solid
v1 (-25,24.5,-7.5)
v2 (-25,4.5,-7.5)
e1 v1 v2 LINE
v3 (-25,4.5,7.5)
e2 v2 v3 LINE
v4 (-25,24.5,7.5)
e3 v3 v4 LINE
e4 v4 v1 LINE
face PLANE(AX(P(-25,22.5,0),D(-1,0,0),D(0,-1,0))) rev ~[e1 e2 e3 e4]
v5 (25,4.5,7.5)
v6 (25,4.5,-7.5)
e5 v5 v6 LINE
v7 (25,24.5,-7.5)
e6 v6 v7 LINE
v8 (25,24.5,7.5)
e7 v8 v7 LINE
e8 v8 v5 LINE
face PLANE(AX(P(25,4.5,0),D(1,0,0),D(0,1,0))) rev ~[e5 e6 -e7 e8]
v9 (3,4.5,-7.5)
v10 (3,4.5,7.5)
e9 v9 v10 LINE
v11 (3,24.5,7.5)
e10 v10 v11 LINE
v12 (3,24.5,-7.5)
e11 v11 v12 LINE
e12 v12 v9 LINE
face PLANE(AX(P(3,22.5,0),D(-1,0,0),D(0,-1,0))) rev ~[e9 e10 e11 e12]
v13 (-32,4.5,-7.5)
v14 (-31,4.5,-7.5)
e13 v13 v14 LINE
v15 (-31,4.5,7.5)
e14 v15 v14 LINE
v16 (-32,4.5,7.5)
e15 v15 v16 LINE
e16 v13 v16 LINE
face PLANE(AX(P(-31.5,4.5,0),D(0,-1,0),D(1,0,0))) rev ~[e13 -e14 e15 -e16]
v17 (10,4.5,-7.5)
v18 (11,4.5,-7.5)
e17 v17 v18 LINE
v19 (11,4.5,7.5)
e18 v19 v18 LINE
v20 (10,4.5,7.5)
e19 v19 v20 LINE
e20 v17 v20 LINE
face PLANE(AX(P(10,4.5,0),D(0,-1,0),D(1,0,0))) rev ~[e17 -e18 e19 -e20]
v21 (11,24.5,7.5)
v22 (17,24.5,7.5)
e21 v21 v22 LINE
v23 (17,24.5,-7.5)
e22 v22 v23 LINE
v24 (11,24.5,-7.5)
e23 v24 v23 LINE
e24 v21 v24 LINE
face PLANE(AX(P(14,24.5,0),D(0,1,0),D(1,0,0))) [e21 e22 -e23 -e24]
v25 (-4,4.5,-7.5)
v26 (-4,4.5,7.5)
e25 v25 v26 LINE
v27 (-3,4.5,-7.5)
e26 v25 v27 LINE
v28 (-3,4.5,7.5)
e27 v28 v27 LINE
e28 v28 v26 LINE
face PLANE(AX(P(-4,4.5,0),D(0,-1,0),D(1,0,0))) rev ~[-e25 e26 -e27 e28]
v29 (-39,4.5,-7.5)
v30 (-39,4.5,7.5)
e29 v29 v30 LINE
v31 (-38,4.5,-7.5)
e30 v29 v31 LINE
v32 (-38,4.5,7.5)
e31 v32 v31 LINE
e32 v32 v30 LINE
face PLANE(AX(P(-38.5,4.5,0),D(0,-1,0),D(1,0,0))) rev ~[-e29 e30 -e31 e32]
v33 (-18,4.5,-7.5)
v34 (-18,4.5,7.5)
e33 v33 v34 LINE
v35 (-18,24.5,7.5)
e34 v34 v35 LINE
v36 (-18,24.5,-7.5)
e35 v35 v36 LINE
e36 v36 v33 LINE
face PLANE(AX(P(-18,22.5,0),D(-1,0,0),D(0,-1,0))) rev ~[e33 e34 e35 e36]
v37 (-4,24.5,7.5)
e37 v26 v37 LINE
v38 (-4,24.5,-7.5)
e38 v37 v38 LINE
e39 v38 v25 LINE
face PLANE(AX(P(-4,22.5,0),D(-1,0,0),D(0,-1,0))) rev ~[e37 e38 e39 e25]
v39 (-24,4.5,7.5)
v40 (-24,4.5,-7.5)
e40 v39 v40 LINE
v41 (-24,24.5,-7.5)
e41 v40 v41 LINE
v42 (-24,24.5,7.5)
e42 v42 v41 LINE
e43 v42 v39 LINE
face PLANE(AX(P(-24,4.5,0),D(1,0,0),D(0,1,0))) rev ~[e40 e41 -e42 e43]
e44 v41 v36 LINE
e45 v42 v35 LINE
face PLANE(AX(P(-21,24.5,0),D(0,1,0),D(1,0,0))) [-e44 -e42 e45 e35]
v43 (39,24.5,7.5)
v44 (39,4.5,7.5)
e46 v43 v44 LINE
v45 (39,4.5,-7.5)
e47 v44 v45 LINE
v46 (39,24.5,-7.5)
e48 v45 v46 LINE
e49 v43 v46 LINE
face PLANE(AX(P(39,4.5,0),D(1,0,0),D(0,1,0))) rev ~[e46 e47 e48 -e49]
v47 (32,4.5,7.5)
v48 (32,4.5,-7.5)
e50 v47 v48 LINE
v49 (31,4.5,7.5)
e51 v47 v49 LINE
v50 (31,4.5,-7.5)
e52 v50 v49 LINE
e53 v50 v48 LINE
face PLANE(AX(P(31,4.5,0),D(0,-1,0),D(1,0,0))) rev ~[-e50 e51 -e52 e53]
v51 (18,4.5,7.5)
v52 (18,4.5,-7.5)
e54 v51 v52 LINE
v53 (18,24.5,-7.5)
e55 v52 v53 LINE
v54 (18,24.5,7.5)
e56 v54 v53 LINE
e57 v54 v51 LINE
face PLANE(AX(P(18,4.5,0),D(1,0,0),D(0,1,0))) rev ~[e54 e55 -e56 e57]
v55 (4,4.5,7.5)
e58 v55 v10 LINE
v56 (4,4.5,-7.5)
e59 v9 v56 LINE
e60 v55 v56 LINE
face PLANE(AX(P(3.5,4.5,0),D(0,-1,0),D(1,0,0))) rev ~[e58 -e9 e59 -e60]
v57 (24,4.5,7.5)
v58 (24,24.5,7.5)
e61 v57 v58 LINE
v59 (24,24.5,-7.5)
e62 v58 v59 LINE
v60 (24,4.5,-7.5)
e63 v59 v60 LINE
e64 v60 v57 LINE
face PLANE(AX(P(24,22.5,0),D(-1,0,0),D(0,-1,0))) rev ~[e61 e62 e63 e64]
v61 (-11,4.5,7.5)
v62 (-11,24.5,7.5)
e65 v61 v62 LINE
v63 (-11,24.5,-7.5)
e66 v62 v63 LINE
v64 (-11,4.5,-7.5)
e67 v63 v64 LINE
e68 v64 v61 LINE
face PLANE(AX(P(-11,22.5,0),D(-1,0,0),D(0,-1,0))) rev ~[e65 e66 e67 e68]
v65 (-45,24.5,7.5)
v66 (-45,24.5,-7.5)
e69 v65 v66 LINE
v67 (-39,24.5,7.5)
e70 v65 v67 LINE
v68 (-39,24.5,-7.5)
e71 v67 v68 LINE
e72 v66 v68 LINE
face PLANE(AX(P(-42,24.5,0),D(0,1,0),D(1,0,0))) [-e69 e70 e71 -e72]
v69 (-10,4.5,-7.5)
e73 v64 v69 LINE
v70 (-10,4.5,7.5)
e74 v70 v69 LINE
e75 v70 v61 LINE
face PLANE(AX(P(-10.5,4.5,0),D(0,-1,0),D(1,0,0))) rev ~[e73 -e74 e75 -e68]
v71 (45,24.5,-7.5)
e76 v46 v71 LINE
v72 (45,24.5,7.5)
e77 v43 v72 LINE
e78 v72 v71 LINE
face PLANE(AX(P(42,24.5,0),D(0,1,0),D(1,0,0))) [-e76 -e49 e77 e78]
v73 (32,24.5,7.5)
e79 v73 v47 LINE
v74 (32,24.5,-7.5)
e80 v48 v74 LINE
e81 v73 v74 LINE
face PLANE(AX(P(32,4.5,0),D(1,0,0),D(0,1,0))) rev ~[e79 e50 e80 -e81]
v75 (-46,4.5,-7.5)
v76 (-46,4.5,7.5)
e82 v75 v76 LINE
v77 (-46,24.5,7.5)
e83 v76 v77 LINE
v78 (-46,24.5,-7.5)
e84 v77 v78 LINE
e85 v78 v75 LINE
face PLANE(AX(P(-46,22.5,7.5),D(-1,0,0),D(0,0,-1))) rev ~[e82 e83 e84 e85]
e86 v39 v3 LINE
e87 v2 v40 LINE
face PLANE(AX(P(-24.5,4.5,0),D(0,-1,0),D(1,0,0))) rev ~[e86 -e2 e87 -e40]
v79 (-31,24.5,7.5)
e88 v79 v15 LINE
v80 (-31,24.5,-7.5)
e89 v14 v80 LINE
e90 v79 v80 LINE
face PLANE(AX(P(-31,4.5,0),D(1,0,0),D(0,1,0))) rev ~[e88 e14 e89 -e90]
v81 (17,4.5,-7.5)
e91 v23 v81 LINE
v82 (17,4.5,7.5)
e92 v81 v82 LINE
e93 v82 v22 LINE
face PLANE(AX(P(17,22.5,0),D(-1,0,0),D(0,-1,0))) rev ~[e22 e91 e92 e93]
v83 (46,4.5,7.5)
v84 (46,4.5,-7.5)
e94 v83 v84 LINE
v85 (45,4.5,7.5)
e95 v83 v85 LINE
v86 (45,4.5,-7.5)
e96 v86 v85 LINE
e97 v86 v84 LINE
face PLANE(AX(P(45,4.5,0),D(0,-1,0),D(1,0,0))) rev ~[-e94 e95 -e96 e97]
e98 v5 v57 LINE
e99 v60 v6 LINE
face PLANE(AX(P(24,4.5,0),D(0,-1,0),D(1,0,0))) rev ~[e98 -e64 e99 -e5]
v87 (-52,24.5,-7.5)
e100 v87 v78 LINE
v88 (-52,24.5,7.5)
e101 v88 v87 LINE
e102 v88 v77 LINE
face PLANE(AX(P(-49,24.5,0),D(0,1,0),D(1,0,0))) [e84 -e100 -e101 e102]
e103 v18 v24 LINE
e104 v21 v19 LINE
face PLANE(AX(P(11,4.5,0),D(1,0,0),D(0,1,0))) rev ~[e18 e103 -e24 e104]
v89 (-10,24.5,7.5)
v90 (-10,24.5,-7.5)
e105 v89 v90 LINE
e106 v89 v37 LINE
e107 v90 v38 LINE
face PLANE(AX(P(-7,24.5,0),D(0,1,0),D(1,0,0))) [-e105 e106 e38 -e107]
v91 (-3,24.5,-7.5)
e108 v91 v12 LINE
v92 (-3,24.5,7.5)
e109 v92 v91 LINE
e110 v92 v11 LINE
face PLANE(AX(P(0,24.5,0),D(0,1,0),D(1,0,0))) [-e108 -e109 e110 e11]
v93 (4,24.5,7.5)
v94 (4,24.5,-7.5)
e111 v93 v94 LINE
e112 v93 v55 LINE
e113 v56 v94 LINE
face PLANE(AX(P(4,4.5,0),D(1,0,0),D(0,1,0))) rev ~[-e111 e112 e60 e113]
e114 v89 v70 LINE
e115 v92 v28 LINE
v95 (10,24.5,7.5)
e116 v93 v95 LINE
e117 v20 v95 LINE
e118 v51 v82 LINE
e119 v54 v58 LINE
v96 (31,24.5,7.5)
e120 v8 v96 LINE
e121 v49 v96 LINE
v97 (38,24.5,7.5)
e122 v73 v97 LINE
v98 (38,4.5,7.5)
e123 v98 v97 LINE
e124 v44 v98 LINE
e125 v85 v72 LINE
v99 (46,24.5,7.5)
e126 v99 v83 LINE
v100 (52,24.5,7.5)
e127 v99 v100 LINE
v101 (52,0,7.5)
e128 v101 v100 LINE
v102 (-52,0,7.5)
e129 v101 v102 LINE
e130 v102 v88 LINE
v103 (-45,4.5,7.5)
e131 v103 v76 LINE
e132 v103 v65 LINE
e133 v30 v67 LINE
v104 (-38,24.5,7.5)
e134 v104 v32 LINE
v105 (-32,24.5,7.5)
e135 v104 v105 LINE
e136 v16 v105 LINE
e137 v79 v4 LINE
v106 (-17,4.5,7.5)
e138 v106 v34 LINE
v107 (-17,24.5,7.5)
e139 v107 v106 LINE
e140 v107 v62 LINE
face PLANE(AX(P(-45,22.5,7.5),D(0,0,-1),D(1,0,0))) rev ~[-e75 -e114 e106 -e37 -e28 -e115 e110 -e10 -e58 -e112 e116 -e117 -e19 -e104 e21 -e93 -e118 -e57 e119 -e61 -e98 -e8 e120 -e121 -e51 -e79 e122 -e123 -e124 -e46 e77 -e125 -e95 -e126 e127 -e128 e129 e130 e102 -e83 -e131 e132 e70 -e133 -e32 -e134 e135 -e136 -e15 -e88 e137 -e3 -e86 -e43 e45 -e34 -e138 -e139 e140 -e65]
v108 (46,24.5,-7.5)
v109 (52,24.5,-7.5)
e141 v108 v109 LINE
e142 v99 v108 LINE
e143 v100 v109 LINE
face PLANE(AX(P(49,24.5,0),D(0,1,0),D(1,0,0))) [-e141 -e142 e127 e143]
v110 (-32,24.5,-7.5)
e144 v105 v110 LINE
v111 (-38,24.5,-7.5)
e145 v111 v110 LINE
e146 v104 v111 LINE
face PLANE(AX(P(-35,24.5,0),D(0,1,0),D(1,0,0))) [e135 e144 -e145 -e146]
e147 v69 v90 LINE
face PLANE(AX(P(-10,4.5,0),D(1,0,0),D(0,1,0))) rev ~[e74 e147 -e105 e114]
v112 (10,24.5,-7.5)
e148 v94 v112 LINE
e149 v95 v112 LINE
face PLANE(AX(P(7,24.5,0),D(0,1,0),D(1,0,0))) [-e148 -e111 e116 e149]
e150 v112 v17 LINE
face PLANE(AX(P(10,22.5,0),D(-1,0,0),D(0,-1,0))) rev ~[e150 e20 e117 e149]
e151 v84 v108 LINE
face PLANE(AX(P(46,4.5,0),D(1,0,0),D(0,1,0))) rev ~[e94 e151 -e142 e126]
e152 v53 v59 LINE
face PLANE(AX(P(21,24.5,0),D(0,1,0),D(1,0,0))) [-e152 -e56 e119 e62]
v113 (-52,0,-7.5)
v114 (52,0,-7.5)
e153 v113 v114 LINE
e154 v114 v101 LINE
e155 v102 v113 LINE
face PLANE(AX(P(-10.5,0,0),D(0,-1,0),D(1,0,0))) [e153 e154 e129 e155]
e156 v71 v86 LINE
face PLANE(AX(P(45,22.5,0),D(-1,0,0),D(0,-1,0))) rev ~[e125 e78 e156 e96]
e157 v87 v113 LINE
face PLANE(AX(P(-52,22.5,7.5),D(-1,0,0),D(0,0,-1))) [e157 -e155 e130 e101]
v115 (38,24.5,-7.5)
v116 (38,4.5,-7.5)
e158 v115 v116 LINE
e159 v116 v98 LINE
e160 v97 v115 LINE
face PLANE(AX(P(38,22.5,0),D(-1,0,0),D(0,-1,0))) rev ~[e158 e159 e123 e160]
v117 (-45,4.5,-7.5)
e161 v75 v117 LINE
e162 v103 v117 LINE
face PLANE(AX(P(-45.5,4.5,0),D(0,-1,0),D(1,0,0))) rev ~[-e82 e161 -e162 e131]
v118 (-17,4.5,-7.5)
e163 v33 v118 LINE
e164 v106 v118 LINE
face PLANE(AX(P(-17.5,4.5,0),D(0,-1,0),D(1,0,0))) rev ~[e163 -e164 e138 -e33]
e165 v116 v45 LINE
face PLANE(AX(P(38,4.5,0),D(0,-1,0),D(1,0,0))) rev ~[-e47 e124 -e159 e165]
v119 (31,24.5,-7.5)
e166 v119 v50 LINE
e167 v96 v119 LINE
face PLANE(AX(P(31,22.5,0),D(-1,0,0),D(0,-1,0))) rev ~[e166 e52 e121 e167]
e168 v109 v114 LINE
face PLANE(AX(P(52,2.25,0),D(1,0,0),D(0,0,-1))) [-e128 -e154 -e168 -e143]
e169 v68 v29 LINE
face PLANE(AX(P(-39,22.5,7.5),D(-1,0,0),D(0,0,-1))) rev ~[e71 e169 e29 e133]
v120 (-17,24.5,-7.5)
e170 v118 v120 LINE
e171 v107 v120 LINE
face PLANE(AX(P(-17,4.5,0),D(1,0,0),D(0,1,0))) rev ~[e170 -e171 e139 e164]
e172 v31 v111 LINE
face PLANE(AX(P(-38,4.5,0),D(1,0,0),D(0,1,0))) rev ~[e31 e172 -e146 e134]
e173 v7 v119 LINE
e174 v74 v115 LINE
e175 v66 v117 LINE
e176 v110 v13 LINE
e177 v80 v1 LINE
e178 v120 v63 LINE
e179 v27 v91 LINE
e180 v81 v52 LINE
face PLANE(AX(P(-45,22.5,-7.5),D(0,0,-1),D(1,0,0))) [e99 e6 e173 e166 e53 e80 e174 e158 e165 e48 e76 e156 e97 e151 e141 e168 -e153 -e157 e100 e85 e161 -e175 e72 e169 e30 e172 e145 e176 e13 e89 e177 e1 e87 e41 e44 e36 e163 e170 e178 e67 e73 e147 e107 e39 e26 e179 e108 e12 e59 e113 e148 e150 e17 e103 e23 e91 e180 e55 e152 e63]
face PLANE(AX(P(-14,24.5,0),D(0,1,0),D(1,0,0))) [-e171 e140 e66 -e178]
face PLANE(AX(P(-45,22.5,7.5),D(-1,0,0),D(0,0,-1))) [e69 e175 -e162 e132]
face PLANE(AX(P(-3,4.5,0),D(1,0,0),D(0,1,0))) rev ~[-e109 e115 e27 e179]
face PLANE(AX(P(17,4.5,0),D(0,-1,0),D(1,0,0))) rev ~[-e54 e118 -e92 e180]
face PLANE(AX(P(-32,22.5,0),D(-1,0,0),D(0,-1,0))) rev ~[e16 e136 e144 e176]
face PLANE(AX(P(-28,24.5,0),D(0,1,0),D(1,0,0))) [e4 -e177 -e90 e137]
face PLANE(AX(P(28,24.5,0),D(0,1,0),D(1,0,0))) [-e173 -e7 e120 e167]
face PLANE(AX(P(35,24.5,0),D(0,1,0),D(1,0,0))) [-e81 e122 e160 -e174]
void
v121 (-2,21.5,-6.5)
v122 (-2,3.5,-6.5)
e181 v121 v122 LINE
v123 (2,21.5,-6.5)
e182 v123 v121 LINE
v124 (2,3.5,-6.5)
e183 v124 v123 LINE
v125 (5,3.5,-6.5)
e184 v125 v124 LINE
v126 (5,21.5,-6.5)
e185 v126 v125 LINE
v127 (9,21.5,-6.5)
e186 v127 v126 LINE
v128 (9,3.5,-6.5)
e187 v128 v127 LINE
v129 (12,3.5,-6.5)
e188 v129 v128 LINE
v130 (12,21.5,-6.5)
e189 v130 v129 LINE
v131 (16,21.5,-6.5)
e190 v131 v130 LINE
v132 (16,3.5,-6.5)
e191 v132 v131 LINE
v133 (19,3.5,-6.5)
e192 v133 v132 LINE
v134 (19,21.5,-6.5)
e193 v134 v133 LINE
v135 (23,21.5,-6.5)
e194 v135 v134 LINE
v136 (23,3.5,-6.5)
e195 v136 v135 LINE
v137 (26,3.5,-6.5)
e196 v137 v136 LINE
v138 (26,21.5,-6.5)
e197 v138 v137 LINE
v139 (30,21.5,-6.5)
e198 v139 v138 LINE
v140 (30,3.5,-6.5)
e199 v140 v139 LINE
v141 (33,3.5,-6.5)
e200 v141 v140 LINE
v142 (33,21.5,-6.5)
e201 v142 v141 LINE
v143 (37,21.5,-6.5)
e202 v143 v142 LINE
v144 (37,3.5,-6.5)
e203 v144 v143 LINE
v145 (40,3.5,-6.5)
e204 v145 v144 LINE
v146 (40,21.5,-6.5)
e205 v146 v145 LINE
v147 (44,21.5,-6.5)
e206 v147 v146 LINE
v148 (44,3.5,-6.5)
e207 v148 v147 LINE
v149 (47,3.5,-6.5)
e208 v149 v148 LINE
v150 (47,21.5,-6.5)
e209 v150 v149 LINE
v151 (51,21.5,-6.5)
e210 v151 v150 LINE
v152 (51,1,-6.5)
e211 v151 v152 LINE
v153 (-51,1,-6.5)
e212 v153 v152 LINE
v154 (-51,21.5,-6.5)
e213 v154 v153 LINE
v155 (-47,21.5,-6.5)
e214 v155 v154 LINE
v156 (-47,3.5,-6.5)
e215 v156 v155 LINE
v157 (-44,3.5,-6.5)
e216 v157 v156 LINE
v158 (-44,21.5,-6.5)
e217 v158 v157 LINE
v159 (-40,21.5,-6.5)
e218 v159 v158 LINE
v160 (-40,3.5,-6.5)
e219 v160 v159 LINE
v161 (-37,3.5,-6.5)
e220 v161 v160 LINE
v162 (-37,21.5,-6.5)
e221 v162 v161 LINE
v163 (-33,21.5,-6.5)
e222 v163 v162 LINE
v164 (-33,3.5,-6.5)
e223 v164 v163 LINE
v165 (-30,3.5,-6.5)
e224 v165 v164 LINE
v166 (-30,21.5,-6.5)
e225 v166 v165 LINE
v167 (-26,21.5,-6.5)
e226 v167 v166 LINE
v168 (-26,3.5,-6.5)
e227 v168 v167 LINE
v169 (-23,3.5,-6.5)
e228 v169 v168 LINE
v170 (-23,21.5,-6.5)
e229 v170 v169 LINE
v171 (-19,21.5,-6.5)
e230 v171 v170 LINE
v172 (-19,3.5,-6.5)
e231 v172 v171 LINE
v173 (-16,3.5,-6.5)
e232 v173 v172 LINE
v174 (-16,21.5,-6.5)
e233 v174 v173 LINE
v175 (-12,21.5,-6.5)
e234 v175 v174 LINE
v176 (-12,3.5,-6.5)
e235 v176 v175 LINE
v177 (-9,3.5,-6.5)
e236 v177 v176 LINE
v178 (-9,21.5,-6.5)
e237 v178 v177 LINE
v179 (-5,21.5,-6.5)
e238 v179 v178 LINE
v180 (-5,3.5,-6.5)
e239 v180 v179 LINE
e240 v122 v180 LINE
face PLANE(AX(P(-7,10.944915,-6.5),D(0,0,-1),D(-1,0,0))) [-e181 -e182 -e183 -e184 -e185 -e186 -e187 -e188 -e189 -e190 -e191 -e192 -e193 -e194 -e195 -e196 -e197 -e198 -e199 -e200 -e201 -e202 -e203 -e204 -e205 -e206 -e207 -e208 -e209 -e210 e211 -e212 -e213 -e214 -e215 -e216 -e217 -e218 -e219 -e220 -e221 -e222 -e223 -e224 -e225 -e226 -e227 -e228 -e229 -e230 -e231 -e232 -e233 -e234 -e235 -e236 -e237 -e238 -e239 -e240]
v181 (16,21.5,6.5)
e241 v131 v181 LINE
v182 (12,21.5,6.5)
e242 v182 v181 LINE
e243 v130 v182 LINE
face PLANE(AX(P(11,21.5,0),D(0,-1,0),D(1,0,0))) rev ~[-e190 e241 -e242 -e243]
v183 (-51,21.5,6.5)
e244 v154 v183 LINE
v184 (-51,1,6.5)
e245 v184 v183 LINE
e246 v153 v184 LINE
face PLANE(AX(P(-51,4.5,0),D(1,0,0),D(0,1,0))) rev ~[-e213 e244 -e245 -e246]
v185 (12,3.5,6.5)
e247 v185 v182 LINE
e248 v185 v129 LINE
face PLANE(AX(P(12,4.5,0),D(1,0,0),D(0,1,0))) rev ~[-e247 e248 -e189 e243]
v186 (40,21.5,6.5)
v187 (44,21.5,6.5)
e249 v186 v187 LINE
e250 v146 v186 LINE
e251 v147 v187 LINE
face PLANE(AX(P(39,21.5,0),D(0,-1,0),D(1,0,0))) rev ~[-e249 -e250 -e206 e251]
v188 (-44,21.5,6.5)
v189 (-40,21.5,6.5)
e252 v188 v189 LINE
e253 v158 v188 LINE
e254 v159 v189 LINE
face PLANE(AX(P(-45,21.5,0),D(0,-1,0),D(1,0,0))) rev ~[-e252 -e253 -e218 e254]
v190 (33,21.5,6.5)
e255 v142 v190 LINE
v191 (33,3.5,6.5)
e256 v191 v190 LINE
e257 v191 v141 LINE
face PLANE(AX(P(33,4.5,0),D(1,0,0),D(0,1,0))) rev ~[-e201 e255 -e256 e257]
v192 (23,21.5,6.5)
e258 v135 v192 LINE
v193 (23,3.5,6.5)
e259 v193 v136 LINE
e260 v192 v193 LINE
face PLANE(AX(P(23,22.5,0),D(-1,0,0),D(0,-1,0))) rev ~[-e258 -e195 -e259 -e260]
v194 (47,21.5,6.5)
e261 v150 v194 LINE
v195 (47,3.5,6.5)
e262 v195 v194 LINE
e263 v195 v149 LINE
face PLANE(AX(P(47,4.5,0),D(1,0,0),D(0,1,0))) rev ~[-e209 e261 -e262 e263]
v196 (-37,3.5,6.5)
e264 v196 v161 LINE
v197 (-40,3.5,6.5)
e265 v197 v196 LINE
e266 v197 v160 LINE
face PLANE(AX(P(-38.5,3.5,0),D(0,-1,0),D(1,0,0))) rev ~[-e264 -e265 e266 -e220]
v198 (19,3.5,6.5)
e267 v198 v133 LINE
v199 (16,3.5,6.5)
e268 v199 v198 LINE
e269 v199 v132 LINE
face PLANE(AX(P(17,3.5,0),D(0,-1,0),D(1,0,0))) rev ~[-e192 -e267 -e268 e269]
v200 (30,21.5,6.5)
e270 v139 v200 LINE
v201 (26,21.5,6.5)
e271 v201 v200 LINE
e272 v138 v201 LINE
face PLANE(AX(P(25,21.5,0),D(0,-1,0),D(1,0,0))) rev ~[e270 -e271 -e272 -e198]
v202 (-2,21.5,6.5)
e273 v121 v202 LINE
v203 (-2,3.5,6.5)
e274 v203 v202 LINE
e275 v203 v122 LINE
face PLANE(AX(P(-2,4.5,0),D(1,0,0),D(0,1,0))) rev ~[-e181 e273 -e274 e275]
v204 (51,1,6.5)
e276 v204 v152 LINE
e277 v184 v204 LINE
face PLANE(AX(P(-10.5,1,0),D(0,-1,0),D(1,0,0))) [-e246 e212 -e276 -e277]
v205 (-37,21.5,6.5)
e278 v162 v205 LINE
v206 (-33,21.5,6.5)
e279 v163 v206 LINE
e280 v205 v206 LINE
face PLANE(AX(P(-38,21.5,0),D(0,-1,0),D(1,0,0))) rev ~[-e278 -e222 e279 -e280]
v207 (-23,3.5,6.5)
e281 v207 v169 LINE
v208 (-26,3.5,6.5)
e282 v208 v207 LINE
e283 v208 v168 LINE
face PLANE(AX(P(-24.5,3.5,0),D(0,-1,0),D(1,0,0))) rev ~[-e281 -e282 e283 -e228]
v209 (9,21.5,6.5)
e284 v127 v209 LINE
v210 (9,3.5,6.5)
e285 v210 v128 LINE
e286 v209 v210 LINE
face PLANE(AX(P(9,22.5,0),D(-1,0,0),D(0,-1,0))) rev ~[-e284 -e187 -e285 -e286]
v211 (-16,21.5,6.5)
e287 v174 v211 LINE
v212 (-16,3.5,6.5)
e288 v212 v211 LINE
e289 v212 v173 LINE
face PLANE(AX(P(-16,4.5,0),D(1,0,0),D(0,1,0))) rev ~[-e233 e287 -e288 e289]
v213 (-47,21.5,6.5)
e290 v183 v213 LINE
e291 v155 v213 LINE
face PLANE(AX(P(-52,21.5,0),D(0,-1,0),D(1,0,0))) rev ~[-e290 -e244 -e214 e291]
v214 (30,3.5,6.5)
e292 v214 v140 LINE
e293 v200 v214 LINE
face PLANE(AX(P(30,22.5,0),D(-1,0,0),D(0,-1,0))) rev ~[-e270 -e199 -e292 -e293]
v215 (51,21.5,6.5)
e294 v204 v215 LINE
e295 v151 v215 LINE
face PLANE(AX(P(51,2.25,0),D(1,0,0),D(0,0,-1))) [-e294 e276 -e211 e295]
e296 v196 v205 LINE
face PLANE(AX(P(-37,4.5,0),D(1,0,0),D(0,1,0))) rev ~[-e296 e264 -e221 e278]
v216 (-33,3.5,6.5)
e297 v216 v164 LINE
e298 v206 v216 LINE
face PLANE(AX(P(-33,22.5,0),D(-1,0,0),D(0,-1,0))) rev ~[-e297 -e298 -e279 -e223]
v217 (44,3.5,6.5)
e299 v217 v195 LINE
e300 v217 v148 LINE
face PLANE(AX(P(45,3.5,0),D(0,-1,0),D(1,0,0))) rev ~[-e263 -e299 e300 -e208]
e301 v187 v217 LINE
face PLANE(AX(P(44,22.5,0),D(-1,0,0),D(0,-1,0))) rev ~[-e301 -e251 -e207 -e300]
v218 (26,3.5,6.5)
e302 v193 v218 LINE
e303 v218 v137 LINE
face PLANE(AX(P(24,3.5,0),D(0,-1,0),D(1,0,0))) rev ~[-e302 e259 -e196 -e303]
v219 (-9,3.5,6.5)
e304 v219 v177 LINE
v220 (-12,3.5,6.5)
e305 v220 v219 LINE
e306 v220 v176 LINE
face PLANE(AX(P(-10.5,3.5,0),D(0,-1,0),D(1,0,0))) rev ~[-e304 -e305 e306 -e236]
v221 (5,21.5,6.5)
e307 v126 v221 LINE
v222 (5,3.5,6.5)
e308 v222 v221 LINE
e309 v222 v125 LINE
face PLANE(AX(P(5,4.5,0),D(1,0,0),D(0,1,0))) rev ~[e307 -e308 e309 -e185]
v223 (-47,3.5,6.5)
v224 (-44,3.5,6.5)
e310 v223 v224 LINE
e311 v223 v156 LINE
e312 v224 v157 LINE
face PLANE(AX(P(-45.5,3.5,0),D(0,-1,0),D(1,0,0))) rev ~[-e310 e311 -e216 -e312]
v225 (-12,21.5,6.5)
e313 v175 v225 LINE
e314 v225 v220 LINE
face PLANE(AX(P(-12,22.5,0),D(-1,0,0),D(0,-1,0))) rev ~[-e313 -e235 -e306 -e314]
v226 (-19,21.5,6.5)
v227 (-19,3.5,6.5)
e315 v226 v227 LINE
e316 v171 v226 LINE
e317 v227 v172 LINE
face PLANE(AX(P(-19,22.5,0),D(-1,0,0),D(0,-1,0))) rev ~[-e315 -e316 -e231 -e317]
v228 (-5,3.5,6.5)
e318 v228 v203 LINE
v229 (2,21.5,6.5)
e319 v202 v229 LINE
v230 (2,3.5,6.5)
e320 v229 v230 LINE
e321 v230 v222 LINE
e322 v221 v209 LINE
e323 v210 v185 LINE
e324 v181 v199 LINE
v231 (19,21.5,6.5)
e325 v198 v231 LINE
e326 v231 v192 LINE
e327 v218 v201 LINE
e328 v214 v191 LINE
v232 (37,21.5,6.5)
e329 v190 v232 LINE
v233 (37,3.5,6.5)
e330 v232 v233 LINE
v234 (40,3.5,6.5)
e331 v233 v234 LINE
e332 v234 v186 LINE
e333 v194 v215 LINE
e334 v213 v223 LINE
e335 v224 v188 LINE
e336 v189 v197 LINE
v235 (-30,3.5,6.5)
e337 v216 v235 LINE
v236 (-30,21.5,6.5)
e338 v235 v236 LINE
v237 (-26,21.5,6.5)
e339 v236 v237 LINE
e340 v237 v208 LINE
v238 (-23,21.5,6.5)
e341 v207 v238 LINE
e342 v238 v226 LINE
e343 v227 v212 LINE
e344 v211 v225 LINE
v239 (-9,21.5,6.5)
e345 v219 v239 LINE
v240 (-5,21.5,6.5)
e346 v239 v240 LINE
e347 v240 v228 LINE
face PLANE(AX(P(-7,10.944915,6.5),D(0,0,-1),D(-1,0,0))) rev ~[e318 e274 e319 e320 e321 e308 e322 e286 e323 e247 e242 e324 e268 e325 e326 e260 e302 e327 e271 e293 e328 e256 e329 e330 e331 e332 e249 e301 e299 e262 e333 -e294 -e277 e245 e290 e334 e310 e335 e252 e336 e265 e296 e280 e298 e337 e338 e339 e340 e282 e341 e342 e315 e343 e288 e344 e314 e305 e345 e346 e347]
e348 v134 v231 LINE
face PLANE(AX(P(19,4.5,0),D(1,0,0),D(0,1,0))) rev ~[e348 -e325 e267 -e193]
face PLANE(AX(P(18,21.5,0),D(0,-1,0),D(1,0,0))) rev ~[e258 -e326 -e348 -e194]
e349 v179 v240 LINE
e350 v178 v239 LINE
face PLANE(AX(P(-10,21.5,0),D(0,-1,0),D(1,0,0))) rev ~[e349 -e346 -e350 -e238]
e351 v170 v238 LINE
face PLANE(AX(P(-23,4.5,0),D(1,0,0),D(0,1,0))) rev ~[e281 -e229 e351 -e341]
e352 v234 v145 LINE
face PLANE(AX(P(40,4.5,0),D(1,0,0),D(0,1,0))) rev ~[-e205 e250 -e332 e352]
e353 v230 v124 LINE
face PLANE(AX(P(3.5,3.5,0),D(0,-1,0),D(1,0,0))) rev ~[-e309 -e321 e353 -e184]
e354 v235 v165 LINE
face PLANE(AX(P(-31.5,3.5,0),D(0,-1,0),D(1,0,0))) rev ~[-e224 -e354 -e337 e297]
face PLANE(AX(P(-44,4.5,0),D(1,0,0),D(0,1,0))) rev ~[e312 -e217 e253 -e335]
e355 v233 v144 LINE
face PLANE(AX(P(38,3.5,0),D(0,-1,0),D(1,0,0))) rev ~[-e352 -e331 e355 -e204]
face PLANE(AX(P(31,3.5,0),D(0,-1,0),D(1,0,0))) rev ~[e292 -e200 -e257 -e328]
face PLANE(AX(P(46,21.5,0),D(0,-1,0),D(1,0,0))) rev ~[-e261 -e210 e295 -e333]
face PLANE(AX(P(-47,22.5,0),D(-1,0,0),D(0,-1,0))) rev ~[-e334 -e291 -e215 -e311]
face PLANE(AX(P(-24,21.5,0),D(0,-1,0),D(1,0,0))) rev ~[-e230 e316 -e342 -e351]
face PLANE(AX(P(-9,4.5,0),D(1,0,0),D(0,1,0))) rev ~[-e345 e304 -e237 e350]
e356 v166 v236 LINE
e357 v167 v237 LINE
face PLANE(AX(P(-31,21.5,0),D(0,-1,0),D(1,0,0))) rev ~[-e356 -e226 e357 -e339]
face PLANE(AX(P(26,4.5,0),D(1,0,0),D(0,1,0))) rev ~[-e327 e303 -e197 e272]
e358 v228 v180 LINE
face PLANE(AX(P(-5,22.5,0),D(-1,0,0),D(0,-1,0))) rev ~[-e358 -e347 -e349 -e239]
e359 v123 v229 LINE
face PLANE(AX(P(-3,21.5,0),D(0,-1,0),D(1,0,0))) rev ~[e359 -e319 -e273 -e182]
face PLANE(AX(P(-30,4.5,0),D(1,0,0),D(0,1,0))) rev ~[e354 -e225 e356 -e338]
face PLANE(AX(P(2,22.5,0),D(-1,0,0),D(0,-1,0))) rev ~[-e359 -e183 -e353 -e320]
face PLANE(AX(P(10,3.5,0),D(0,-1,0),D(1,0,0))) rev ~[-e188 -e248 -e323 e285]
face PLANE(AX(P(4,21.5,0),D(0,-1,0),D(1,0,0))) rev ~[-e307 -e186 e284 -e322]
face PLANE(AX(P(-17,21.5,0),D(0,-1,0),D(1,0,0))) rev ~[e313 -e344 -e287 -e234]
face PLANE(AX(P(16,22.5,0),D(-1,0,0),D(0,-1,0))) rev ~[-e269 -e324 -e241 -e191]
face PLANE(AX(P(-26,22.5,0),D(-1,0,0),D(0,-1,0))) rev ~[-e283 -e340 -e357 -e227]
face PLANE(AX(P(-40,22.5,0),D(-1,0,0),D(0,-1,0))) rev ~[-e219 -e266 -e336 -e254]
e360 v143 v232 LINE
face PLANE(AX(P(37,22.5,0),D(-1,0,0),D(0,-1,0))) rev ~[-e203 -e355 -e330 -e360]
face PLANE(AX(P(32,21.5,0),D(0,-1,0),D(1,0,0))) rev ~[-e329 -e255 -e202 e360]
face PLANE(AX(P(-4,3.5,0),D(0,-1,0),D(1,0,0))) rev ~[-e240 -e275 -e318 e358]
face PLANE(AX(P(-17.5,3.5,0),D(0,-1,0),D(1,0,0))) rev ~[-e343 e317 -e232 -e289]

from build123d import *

# Parameters (mm, degrees)
BOSS_EXTRUDE1_DEPTH     = 7.5
LPATTERN1_COUNT         = 8
LPATTERN1_PITCH         = 7
LPATTERN1_COL_COUNT     = 8
LPATTERN1_COL_PITCH     = 7
SHELL2_T                = -1
SKETCH3_W               = 0.5
SKETCH3_H               = 4.5
CUT_EXTRUDE2_DEPTH      = 15
CUT_EXTRUDE2_DEPTH_BACK = 8.5
SKETCH4_W               = 13
SKETCH4_H               = 2.5
BOSS_EXTRUDE2_DEPTH     = 1
SKETCH5_W               = 13
SKETCH5_H               = 2.5
BOSS_EXTRUDE3_DEPTH     = 1
SKETCH8_W               = 6
SKETCH8_H               = 15
BOSS_EXTRUDE5_DEPTH     = 2
LPATTERN2_COUNT         = 15
LPATTERN2_PITCH         = 7


with BuildPart() as part:
    # Sketch1 → Boss-Extrude1 (new body, symmetric)
    with BuildSketch(Plane.XY):
        Polygon((0, 0), (-3.5, 0), (-3.5, 4.5), (-3, 4.5), (-3, 22.5), (3, 22.5), (3, 4.5), (3.5, 4.5), (3.5, 0), align=None)
    boss_extrude1 = extrude(amount=BOSS_EXTRUDE1_DEPTH, both=True)

    # LPattern1: Boss-Extrude1 ×8
    with Locations(*[(i * LPATTERN1_PITCH, 0, 0) for i in range(1, LPATTERN1_COUNT)]):
        add(boss_extrude1)

    # LPattern1 col: Boss-Extrude1 ×8
    with Locations(*[(-i * LPATTERN1_COL_PITCH, 0, 0) for i in range(1, LPATTERN1_COL_COUNT)]):
        add(boss_extrude1)

    # Shell2
    shell2_openings = [part.faces().sort_by_distance(p)[0] for p in [
        (52.5, 2.25, 0),
        (-52.5, 2.25, 0),
    ]]
    offset(amount=SHELL2_T, openings=shell2_openings, kind=Kind.INTERSECTION)

    # Sketch3 → Cut-Extrude2 (cut, two sides)
    with BuildSketch(Plane.XY) as cut_extrude2_sk:
        with Locations((-52.25, 2.25)):
            Rectangle(SKETCH3_W, SKETCH3_H)
        with Locations((52.25, 2.25)):
            Rectangle(SKETCH3_W, SKETCH3_H)
    extrude(amount=CUT_EXTRUDE2_DEPTH, mode=Mode.SUBTRACT)
    extrude(cut_extrude2_sk.sketch, amount=-CUT_EXTRUDE2_DEPTH_BACK, mode=Mode.SUBTRACT)

    # Sketch4 → Boss-Extrude2 (add)
    with BuildSketch(Plane.ZY.offset(52)):
        with Locations((0, 2.25)):
            Rectangle(SKETCH4_W, SKETCH4_H)
    extrude(amount=-BOSS_EXTRUDE2_DEPTH)

    # Sketch5 → Boss-Extrude3 (add)
    with BuildSketch(Plane(origin=(52, 0, 0), x_dir=(0, 0, -1), z_dir=(1, 0, 0))):
        with Locations((0, 2.25)):
            Rectangle(SKETCH5_W, SKETCH5_H)
    extrude(amount=-BOSS_EXTRUDE3_DEPTH)

    # Sketch8 → Boss-Extrude5 (add)
    with BuildSketch(Plane(origin=(0, 22.5, 0), x_dir=(1, 0, 0), z_dir=(0, 1, 0))):
        with Locations((-49, 0)):
            Rectangle(SKETCH8_W, SKETCH8_H)
    boss_extrude5 = extrude(amount=BOSS_EXTRUDE5_DEPTH)

    # LPattern2: Boss-Extrude5 ×15
    with Locations(*[(i * LPATTERN2_PITCH, 0, 0) for i in range(1, LPATTERN2_COUNT)]):
        add(boss_extrude5)


solid = part.part
